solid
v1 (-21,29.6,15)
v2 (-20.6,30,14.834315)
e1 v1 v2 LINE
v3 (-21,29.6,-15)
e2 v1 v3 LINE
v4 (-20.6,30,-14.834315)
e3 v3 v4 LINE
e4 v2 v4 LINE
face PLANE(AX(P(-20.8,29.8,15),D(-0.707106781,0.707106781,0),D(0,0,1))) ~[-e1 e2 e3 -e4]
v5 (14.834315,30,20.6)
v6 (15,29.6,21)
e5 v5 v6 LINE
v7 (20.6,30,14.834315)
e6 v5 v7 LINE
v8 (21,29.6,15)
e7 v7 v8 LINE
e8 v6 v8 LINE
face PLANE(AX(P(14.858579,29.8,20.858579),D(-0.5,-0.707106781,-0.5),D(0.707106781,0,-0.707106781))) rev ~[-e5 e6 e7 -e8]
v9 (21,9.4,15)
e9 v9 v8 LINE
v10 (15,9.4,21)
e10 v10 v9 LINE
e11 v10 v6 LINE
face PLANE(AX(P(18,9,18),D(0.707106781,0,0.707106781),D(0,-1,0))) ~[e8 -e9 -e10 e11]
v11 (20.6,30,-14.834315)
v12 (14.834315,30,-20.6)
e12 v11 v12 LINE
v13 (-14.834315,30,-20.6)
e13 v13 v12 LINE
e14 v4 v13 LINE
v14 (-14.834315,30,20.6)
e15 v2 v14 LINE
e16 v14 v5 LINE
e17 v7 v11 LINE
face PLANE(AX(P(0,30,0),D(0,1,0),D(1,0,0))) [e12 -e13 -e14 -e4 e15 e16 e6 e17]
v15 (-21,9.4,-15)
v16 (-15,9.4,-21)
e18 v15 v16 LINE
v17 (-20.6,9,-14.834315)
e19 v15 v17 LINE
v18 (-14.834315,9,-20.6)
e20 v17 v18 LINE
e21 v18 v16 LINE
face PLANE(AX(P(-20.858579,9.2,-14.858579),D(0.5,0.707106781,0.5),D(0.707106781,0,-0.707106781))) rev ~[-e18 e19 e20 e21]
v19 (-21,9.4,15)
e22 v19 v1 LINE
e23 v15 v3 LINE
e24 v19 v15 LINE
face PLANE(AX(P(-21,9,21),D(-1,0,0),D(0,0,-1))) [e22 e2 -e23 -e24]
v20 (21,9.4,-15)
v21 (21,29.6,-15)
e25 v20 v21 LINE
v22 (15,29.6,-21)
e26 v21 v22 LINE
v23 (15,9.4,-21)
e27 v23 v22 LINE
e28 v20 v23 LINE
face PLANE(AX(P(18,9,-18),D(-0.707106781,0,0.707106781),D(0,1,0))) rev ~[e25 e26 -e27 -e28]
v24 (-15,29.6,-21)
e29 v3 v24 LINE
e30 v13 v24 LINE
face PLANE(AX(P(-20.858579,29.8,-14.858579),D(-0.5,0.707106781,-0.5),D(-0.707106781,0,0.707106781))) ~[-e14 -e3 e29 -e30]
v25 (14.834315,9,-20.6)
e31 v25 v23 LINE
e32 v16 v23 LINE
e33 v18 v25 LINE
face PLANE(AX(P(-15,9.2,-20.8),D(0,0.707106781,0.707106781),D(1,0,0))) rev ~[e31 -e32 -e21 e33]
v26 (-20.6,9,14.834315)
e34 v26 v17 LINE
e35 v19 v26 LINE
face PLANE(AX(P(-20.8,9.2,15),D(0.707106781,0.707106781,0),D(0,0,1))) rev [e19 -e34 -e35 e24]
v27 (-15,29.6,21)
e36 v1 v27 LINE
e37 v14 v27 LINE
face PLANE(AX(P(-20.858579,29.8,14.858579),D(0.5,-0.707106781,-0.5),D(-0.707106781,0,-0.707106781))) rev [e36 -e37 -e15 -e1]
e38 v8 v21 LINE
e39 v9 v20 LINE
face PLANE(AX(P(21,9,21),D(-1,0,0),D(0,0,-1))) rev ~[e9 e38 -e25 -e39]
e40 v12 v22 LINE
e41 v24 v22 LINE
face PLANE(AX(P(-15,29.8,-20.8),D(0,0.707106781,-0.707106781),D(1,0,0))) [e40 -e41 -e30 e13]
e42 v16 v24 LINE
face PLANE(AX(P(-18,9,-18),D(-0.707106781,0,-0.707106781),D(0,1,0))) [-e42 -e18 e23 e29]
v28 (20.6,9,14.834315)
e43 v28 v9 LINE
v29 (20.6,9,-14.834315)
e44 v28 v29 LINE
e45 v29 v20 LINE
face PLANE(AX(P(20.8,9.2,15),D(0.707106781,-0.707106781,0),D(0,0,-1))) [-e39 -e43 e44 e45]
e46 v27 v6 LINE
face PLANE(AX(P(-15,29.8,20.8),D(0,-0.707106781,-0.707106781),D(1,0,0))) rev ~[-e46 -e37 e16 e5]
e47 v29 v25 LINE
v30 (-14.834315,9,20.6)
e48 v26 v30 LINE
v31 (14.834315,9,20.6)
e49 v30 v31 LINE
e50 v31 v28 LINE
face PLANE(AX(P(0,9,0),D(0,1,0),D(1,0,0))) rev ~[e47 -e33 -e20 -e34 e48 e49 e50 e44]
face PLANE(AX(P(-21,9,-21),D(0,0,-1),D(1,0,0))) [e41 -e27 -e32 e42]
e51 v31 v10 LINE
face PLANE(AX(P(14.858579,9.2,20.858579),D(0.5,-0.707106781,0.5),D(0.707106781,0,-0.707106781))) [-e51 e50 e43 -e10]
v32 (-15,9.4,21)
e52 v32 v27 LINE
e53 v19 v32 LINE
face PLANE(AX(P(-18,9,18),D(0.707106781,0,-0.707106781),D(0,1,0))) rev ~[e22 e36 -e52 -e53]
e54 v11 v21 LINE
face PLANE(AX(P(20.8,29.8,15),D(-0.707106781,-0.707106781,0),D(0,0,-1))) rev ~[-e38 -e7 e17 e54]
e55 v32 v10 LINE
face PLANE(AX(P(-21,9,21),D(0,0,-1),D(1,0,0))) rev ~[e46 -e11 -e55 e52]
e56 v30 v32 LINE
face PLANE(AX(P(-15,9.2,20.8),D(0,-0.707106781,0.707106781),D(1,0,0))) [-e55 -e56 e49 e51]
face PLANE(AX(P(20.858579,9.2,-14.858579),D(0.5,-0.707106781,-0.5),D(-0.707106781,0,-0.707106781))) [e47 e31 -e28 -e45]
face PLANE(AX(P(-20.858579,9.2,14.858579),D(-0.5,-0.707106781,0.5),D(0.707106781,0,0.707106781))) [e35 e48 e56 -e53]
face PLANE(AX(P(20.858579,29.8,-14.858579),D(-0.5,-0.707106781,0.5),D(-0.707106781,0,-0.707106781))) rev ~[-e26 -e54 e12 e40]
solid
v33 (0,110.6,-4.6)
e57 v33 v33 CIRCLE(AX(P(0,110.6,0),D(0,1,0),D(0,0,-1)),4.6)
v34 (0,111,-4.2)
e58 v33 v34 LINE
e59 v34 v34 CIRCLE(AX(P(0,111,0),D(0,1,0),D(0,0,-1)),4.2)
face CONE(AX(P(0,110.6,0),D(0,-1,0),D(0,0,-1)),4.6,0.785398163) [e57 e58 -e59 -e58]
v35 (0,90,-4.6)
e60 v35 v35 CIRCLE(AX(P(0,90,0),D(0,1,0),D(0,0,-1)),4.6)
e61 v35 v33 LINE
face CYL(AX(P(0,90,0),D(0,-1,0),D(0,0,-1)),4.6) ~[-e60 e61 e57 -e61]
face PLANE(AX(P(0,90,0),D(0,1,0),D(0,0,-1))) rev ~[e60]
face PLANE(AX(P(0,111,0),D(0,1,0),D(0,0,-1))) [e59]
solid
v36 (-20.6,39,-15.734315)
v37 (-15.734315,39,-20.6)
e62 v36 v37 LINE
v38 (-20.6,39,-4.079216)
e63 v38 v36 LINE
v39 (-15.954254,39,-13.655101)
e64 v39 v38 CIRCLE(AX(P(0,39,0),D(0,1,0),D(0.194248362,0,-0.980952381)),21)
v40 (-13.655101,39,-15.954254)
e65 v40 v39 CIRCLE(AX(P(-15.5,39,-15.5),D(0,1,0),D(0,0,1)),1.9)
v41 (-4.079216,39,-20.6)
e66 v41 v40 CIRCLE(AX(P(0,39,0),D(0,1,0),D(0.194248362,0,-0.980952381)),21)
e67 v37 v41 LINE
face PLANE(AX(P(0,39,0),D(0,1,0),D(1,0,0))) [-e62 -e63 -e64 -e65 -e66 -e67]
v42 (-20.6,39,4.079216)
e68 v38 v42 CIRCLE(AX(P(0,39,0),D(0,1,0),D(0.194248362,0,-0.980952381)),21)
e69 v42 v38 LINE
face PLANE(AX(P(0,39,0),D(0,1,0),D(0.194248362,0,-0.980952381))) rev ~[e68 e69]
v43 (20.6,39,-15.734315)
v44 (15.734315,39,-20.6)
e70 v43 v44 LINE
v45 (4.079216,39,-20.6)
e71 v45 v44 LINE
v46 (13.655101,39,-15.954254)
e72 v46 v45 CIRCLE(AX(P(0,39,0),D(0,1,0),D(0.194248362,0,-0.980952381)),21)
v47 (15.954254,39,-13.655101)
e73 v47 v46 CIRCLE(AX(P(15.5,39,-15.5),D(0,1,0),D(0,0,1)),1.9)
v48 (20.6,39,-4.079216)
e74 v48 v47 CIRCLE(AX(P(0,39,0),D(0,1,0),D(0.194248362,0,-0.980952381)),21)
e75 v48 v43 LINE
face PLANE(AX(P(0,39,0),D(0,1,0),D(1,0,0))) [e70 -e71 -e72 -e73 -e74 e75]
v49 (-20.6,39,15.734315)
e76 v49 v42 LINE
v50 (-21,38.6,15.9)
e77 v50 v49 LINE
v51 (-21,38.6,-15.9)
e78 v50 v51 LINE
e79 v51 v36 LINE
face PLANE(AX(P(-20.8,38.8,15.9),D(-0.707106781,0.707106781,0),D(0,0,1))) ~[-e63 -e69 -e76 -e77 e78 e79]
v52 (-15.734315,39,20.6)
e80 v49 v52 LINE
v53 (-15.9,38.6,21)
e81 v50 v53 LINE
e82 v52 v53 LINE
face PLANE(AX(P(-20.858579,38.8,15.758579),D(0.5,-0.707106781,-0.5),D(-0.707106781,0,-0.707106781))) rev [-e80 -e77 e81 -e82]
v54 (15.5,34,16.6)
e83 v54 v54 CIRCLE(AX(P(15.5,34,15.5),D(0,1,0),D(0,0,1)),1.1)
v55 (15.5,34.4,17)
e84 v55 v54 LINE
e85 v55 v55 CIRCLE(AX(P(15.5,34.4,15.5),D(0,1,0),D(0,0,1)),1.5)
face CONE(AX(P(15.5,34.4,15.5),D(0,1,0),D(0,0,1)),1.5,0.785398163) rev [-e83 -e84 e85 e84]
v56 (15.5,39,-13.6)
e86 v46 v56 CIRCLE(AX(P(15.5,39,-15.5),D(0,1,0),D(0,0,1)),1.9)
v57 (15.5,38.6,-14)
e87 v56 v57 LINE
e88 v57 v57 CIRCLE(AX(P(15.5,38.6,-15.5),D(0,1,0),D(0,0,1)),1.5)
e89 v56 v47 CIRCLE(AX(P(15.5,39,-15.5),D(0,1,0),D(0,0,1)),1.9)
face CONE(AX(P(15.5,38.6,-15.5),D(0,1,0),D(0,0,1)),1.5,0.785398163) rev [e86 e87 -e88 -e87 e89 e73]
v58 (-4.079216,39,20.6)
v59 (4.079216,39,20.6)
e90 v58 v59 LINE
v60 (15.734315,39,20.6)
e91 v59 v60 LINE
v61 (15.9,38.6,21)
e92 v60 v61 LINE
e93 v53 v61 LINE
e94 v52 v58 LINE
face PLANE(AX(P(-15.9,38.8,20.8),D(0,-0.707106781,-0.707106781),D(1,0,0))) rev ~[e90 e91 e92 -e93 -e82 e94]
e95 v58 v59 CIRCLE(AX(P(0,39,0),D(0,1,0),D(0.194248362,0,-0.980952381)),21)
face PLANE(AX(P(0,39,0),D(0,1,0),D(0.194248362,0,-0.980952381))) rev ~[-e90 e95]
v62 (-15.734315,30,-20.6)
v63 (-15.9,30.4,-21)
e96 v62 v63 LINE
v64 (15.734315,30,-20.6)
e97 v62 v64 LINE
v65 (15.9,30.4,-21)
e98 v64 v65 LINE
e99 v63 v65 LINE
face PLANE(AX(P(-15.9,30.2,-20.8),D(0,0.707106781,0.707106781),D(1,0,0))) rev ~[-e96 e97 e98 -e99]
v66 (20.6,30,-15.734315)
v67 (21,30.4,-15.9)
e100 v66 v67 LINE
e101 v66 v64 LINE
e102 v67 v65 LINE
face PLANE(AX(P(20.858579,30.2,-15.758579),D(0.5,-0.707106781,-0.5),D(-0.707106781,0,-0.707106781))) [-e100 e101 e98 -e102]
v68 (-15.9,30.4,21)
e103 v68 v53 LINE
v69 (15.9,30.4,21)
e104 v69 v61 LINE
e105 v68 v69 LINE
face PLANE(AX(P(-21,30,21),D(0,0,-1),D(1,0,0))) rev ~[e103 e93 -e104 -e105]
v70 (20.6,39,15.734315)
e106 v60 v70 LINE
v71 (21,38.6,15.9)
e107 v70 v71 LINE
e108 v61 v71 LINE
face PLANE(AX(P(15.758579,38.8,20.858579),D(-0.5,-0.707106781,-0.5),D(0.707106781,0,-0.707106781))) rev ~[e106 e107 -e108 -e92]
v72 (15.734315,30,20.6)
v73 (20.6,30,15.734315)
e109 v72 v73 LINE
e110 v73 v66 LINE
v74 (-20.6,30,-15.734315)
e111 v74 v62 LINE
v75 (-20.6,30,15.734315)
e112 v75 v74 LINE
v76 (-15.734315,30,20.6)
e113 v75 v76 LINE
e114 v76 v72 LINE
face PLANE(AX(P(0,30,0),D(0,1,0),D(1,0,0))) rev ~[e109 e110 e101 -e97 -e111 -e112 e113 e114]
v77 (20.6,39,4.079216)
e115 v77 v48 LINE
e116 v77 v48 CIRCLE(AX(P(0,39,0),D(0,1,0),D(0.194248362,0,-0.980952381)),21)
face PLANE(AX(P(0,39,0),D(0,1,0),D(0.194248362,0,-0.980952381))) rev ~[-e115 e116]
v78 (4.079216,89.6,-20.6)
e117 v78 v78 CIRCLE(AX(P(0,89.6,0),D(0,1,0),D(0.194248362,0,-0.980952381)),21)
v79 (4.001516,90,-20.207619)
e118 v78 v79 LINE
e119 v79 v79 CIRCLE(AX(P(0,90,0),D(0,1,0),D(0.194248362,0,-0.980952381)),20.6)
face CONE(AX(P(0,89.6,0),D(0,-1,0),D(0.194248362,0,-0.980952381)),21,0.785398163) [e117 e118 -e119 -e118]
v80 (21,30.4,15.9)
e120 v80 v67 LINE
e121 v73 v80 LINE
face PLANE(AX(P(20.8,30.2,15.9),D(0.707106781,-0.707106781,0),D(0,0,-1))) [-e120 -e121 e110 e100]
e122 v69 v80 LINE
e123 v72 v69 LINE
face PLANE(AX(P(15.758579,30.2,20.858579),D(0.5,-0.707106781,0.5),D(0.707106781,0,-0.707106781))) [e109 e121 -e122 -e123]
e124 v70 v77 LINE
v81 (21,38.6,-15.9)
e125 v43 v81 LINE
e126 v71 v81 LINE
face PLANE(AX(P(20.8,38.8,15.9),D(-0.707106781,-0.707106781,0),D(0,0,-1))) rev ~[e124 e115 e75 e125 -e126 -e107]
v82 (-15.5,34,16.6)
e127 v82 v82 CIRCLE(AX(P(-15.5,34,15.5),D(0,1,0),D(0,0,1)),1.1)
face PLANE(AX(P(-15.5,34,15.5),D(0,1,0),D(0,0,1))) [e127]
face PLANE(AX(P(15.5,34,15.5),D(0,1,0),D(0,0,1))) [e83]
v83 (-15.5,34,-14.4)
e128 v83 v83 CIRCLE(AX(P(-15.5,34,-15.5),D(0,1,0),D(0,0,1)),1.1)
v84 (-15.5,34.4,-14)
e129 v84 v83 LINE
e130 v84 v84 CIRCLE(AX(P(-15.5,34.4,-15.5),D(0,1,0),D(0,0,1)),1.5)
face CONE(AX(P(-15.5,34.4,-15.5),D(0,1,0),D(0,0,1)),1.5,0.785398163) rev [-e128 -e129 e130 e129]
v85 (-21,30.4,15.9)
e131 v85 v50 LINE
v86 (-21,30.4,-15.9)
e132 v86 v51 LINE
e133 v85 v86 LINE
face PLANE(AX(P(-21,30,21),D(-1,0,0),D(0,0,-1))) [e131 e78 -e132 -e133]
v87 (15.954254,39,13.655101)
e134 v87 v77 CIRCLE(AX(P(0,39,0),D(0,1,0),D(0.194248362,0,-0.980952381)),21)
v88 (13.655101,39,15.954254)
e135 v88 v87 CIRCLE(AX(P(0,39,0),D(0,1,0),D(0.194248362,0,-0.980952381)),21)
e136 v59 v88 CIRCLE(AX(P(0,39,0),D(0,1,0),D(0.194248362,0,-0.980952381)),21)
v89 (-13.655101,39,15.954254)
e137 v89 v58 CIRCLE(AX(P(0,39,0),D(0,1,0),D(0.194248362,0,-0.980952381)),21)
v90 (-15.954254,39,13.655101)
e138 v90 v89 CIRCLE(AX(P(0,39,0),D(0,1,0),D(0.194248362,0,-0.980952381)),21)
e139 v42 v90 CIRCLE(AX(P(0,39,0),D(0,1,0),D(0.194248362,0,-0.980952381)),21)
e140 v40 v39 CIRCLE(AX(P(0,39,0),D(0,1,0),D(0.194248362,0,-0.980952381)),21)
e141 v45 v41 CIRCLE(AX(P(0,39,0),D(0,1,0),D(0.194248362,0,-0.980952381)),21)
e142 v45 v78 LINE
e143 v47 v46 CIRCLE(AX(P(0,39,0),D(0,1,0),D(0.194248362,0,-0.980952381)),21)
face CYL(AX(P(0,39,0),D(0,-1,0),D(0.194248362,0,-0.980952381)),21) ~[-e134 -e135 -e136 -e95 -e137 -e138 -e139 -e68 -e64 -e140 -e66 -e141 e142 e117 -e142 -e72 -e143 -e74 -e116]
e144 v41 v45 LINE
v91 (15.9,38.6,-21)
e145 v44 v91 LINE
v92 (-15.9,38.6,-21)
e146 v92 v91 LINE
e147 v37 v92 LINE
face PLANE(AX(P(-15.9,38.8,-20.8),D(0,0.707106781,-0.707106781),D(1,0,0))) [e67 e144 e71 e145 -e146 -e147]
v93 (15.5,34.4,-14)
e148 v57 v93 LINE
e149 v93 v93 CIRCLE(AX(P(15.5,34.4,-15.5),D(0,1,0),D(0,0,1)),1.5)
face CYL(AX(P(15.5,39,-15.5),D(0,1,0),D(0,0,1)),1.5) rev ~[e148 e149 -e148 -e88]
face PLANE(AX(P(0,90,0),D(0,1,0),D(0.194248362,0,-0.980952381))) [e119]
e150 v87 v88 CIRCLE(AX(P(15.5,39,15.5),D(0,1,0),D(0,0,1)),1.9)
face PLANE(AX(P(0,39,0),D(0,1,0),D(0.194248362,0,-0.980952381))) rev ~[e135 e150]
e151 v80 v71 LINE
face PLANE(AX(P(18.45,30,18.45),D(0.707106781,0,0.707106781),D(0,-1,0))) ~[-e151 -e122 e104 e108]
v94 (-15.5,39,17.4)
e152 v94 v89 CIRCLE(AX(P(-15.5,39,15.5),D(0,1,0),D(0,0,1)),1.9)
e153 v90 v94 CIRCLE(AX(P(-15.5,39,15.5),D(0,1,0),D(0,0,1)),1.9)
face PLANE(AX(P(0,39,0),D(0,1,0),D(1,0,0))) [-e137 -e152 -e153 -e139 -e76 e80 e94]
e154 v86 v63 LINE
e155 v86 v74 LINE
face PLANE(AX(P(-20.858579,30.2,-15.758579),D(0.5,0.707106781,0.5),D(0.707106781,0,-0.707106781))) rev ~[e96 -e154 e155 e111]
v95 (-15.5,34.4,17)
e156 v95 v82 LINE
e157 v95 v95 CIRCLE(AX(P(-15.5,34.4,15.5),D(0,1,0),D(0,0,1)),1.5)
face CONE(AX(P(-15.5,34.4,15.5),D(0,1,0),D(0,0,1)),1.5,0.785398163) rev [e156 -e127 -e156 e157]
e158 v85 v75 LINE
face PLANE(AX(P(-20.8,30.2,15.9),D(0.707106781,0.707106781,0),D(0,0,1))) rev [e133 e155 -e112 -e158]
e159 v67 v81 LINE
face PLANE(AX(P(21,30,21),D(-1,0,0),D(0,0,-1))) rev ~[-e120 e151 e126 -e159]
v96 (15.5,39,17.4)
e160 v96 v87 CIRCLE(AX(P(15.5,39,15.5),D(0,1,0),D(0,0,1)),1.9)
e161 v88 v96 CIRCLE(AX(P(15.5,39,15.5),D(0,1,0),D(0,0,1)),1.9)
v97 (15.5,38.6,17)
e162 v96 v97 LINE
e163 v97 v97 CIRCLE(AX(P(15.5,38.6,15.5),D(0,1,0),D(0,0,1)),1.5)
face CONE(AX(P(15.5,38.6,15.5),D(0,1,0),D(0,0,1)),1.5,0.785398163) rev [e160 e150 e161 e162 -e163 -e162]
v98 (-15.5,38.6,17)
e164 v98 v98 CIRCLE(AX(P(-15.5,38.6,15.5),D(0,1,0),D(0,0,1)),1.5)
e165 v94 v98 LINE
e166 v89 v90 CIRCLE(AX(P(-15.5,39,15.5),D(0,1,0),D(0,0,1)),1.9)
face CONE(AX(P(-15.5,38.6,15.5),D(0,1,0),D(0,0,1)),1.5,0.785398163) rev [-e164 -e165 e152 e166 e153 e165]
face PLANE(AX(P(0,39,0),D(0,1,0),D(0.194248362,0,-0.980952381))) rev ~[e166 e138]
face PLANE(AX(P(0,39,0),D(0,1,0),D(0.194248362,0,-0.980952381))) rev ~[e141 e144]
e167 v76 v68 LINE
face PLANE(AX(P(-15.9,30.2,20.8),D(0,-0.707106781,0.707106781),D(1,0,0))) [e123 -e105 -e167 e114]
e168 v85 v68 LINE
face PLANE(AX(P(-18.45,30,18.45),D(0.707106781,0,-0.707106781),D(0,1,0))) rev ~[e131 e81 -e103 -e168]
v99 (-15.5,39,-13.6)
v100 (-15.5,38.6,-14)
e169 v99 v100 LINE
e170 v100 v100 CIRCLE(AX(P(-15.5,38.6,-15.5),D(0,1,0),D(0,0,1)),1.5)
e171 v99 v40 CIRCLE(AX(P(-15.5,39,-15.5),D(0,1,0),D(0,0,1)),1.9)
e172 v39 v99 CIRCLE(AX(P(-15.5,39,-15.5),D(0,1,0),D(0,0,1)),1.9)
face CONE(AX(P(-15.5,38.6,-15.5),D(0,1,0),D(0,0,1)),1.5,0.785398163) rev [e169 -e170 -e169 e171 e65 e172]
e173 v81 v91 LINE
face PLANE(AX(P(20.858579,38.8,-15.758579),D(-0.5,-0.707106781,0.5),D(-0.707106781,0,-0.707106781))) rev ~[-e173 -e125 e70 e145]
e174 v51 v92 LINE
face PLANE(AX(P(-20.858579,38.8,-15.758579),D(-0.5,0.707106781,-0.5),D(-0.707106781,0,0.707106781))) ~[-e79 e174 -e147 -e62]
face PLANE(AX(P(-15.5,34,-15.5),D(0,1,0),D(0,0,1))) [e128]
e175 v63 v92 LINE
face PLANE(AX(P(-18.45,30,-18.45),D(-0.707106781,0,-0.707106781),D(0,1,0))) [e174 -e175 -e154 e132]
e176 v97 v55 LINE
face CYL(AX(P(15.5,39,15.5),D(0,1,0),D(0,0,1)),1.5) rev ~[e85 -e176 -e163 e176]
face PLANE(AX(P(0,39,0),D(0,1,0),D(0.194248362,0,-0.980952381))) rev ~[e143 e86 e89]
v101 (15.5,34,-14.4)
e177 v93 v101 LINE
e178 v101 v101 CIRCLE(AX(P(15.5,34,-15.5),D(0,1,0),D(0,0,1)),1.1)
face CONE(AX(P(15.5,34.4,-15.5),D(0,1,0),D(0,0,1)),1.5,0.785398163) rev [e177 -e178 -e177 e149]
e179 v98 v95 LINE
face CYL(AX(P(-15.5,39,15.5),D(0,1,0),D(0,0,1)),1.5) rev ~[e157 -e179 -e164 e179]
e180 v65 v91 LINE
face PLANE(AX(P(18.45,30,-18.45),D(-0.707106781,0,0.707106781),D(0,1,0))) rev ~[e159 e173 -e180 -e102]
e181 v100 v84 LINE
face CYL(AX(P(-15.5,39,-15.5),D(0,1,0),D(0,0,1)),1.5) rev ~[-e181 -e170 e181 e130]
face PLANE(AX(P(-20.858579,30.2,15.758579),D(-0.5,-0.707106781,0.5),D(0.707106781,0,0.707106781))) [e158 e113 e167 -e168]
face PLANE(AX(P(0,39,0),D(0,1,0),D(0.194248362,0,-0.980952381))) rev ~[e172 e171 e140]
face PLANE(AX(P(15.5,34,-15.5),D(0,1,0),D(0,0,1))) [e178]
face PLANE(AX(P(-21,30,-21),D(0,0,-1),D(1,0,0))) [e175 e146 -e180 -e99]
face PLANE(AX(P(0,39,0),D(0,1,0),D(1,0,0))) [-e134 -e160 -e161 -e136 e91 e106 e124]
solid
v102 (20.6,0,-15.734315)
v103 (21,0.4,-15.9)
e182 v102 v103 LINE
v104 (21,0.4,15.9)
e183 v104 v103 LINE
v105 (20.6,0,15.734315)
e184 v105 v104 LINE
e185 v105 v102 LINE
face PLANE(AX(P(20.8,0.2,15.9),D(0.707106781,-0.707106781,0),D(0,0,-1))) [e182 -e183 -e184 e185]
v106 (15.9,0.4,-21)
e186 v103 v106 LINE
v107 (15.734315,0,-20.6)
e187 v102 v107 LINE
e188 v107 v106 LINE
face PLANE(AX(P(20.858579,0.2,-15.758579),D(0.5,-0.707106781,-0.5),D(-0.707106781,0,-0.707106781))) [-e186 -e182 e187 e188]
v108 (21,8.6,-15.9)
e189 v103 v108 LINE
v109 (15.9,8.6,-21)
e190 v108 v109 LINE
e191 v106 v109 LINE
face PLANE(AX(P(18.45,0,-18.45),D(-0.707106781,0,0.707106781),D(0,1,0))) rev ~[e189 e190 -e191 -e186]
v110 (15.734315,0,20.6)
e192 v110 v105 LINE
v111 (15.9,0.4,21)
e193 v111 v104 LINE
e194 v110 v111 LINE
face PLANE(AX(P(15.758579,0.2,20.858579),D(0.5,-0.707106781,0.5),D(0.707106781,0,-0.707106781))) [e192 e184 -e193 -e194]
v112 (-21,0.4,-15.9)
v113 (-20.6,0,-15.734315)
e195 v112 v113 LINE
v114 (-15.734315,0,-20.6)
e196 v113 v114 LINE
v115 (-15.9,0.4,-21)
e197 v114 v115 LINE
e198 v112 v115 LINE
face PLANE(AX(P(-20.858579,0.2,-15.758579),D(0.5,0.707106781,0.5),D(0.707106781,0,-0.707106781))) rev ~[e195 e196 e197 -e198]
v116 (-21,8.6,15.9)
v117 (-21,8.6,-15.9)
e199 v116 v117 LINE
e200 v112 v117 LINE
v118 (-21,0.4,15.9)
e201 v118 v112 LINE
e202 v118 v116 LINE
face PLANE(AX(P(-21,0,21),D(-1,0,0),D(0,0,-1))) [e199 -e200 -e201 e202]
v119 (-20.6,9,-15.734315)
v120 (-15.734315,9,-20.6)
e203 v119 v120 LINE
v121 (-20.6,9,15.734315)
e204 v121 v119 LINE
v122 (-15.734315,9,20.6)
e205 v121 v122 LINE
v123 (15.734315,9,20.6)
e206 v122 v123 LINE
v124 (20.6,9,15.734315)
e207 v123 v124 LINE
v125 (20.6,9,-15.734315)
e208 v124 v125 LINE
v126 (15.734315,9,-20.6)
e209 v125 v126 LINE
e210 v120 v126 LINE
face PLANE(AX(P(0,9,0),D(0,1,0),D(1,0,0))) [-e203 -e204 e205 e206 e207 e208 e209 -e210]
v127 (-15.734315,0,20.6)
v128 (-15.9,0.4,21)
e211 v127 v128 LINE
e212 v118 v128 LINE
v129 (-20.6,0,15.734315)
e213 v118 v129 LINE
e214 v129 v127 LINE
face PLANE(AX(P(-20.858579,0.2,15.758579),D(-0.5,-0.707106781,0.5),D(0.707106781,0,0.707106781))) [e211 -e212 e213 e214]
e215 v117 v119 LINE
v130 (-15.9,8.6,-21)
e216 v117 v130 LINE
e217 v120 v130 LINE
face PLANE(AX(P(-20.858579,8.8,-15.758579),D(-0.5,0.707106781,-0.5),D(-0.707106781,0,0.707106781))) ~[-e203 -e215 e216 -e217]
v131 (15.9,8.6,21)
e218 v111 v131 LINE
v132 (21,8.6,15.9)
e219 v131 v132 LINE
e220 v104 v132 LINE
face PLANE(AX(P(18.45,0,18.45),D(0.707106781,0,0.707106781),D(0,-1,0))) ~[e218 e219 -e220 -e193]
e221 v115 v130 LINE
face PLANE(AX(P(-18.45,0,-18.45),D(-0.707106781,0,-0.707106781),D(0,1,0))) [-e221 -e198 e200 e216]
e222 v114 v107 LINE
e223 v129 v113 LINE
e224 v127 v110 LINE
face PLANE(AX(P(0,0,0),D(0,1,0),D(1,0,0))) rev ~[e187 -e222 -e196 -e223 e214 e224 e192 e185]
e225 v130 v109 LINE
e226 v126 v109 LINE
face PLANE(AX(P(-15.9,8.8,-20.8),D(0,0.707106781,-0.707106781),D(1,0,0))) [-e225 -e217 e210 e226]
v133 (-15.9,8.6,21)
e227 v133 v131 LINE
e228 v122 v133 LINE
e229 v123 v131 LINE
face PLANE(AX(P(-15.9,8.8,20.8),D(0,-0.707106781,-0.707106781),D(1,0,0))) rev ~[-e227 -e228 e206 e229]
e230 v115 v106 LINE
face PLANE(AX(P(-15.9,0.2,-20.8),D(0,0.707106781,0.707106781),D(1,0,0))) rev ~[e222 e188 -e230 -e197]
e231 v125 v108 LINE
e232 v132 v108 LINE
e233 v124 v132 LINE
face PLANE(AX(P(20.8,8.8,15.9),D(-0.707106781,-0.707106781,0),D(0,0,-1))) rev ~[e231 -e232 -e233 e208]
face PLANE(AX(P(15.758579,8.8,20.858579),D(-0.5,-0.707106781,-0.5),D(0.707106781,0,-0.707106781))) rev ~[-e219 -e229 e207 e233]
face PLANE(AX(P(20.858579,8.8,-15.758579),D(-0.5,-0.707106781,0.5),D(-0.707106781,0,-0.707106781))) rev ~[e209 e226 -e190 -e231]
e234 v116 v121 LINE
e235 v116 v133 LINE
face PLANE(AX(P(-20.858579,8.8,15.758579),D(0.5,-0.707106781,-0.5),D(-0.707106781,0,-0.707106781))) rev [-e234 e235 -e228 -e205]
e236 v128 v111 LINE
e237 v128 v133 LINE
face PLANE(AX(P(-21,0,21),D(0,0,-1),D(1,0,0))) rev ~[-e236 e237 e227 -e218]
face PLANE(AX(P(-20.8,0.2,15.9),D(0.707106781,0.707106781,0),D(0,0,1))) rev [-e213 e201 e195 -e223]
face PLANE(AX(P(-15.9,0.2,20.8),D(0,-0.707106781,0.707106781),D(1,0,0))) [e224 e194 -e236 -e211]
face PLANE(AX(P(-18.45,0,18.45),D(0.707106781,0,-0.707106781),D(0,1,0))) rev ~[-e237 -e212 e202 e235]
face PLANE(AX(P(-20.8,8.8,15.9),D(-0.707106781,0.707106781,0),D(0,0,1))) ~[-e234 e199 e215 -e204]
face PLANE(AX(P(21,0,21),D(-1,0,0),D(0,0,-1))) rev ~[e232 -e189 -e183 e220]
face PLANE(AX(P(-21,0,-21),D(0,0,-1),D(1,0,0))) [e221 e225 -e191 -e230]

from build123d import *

# Parameters (mm, degrees)
SKETCH1_W           = 42
SKETCH1_H           = 42
BOSS_EXTRUDE1_DEPTH = 9
CHAMFER1_SIZE       = 5.1
CHAMFER2_SIZE       = 0.4
SKETCH3_W           = 42
SKETCH3_H           = 42
BOSS_EXTRUDE3_DEPTH = 21
CHAMFER3_SIZE       = 6
CHAMFER4_SIZE       = 0.4
SKETCH4_W           = 42
SKETCH4_H           = 42
BOSS_EXTRUDE4_DEPTH = 9
CHAMFER5_SIZE       = 5.1
SKETCH5_R           = 11
BOSS_EXTRUDE5_DEPTH = 2
SKETCH7_R           = 1.5
CUT_EXTRUDE1_DEPTH  = 5
CHAMFER6_SIZE       = 0.4
SKETCH6_R           = 2.5
BOSS_EXTRUDE6_DEPTH = 24
CHAMFER7_SIZE       = 0.4
SKETCH8_R           = 21
BOSS_EXTRUDE7_DEPTH = 51
SKETCH9_R           = 4.6
BOSS_EXTRUDE8_DEPTH = 21
CHAMFER8_SIZE       = 0.4
CHAMFER9_SIZE       = 0.4


with BuildPart() as part:
    # Sketch1 → Boss-Extrude1 (new body)
    with BuildSketch(Plane(origin=(0, 0, 0), x_dir=(1, 0, 0), z_dir=(0, 1, 0))):
        Rectangle(SKETCH1_W, SKETCH1_H)
    extrude(amount=BOSS_EXTRUDE1_DEPTH)

    # Chamfer1
    chamfer1_edges = [part.edges().sort_by_distance(p)[0] for p in [
        (21, 4.5, 21),
        (-21, 4.5, 21),
        (-21, 4.5, -21),
        (21, 4.5, -21),
    ]]
    chamfer(chamfer1_edges, length=CHAMFER1_SIZE)

    # Chamfer2
    chamfer2_edges = [part.edges().sort_by_distance(p)[0] for p in [
        (-21, 0, 0),
        (-21, 9, 0),
        (21, 0, 0),
        (0, 0, 21),
        (0, 0, -21),
        (-18.45, 0, 18.45),
        (18.45, 0, 18.45),
        (18.45, 0, -18.45),
        (-18.45, 0, -18.45),
        (0, 9, -21),
        (21, 9, 0),
        (0, 9, 21),
        (-18.45, 9, 18.45),
        (18.45, 9, 18.45),
        (18.45, 9, -18.45),
        (-18.45, 9, -18.45),
    ]]
    chamfer(chamfer2_edges, length=CHAMFER2_SIZE)


with BuildPart() as body_2:
    # Sketch3 → Boss-Extrude3 (new body)
    with BuildSketch(Plane(origin=(0, 9, 0), x_dir=(1, 0, 0), z_dir=(0, 1, 0))):
        Rectangle(SKETCH3_W, SKETCH3_H)
    extrude(amount=BOSS_EXTRUDE3_DEPTH)

    # Chamfer3
    chamfer3_edges = [body_2.edges().sort_by_distance(p)[0] for p in [
        (-21, 19.5, -21),
        (21, 19.5, -21),
        (21, 19.5, 21),
        (-21, 19.5, 21),
    ]]
    chamfer(chamfer3_edges, length=CHAMFER3_SIZE)

    # Chamfer4
    chamfer4_edges = [body_2.edges().sort_by_distance(p)[0] for p in [
        (-21, 9, 0),
        (-21, 30, 0),
        (0, 9, -21),
        (21, 9, 0),
        (0, 9, 21),
        (18, 9, 18),
        (-18, 9, 18),
        (18, 9, -18),
        (-18, 9, -18),
        (0, 30, -21),
        (0, 30, 21),
        (21, 30, 0),
        (18, 30, 18),
        (-18, 30, 18),
        (18, 30, -18),
        (-18, 30, -18),
    ]]
    chamfer(chamfer4_edges, length=CHAMFER4_SIZE)


with BuildPart() as body_3:
    # Sketch4 → Boss-Extrude4 (new body)
    with BuildSketch(Plane(origin=(0, 30, 0), x_dir=(1, 0, 0), z_dir=(0, 1, 0))):
        Rectangle(SKETCH4_W, SKETCH4_H)
    extrude(amount=BOSS_EXTRUDE4_DEPTH)

    # Chamfer5
    chamfer5_edges = [body_3.edges().sort_by_distance(p)[0] for p in [
        (-21, 34.5, -21),
        (21, 34.5, -21),
        (21, 34.5, 21),
        (-21, 34.5, 21),
    ]]
    chamfer(chamfer5_edges, length=CHAMFER5_SIZE)

    # Sketch5 → Boss-Extrude5 (add)
    with BuildSketch(Plane(origin=(0, 39, 0), x_dir=(1, 0, 0), z_dir=(0, 1, 0))):
        with Locations(Location((0, 0, 0), (0, 0, 270))):
            Circle(SKETCH5_R)
    extrude(amount=BOSS_EXTRUDE5_DEPTH)

    # Sketch7 → Cut-Extrude1 (cut)
    with BuildSketch(Plane(origin=(0, 39, 0), x_dir=(1, 0, 0), z_dir=(0, 1, 0))):
        with Locations(Location((15.5, -15.5, 0), (0, 0, 270))):
            Circle(SKETCH7_R)
        with Locations(Location((-15.5, -15.5, 0), (0, 0, 270))):
            Circle(SKETCH7_R)
        with Locations(Location((15.5, 15.5, 0), (0, 0, 270))):
            Circle(SKETCH7_R)
        with Locations(Location((-15.5, 15.5, 0), (0, 0, 270))):
            Circle(SKETCH7_R)
    extrude(amount=-CUT_EXTRUDE1_DEPTH, mode=Mode.SUBTRACT)

    # Chamfer6
    chamfer6_edges = [body_3.edges().sort_by_distance(p)[0] for p in [
        (21, 30, 0),
        (21, 39, 0),
        (-21, 30, 0),
        (0, 30, -21),
        (0, 30, 21),
        (18.45, 30, -18.45),
        (-18.45, 30, -18.45),
        (-18.45, 30, 18.45),
        (18.45, 30, 18.45),
        (0, 39, 21),
        (-21, 39, 0),
        (0, 39, -21),
        (18.45, 39, -18.45),
        (-18.45, 39, -18.45),
        (-18.45, 39, 18.45),
        (18.45, 39, 18.45),
        (0, 39, -11),
        (0, 41, -11),
        (-15.5, 34, 14),
        (-15.5, 39, 14),
        (15.5, 34, -17),
        (15.5, 39, -17),
        (-15.5, 34, -17),
        (-15.5, 39, -17),
        (15.5, 34, 14),
        (15.5, 39, 14),
    ]]
    chamfer(chamfer6_edges, length=CHAMFER6_SIZE)



with BuildPart() as body_4:
    # Sketch6 → Boss-Extrude6 (new body)
    with BuildSketch(Plane(origin=(0, 41, 0), x_dir=(1, 0, 0), z_dir=(0, 1, 0))):
        with Locations(Location((0, 0, 0), (0, 0, 270))):
            Circle(SKETCH6_R)
    extrude(amount=BOSS_EXTRUDE6_DEPTH)

    # Chamfer7
    chamfer7_edges = [body_4.edges().sort_by_distance(p)[0] for p in [
        (0, 65, -2.5),
    ]]
    chamfer(chamfer7_edges, length=CHAMFER7_SIZE)


with BuildPart() as body_3_1:
    add(body_3.part)

    add(body_4.part)  # Boss-Extrude7 merges body 4
    # Sketch8 → Boss-Extrude7 (add)
    with BuildSketch(Plane(origin=(0, 39, 0), x_dir=(1, 0, 0), z_dir=(0, 1, 0))):
        with Locations(Location((0, 0, 0), (0, 0, 78.79918163))):
            Circle(SKETCH8_R)
    extrude(amount=BOSS_EXTRUDE7_DEPTH)

    # Chamfer9
    chamfer9_edges = [body_3_1.edges().sort_by_distance(p)[0] for p in [
        (-4.079215611, 90, 20.6),
    ]]
    chamfer(chamfer9_edges, length=CHAMFER9_SIZE)


with BuildPart() as body_4_2:
    # Sketch9 → Boss-Extrude8 (new body)
    with BuildSketch(Plane(origin=(0, 90, 0), x_dir=(1, 0, 0), z_dir=(0, 1, 0))):
        with Locations(Location((0, 0, 0), (0, 0, 90))):
            Circle(SKETCH9_R)
    extrude(amount=BOSS_EXTRUDE8_DEPTH)

    # Chamfer8
    chamfer8_edges = [body_4_2.edges().sort_by_distance(p)[0] for p in [
        (0, 111, 4.6),
    ]]
    chamfer(chamfer8_edges, length=CHAMFER8_SIZE)


solid = Compound([part.part, body_2.part, body_3_1.part, body_4_2.part])
